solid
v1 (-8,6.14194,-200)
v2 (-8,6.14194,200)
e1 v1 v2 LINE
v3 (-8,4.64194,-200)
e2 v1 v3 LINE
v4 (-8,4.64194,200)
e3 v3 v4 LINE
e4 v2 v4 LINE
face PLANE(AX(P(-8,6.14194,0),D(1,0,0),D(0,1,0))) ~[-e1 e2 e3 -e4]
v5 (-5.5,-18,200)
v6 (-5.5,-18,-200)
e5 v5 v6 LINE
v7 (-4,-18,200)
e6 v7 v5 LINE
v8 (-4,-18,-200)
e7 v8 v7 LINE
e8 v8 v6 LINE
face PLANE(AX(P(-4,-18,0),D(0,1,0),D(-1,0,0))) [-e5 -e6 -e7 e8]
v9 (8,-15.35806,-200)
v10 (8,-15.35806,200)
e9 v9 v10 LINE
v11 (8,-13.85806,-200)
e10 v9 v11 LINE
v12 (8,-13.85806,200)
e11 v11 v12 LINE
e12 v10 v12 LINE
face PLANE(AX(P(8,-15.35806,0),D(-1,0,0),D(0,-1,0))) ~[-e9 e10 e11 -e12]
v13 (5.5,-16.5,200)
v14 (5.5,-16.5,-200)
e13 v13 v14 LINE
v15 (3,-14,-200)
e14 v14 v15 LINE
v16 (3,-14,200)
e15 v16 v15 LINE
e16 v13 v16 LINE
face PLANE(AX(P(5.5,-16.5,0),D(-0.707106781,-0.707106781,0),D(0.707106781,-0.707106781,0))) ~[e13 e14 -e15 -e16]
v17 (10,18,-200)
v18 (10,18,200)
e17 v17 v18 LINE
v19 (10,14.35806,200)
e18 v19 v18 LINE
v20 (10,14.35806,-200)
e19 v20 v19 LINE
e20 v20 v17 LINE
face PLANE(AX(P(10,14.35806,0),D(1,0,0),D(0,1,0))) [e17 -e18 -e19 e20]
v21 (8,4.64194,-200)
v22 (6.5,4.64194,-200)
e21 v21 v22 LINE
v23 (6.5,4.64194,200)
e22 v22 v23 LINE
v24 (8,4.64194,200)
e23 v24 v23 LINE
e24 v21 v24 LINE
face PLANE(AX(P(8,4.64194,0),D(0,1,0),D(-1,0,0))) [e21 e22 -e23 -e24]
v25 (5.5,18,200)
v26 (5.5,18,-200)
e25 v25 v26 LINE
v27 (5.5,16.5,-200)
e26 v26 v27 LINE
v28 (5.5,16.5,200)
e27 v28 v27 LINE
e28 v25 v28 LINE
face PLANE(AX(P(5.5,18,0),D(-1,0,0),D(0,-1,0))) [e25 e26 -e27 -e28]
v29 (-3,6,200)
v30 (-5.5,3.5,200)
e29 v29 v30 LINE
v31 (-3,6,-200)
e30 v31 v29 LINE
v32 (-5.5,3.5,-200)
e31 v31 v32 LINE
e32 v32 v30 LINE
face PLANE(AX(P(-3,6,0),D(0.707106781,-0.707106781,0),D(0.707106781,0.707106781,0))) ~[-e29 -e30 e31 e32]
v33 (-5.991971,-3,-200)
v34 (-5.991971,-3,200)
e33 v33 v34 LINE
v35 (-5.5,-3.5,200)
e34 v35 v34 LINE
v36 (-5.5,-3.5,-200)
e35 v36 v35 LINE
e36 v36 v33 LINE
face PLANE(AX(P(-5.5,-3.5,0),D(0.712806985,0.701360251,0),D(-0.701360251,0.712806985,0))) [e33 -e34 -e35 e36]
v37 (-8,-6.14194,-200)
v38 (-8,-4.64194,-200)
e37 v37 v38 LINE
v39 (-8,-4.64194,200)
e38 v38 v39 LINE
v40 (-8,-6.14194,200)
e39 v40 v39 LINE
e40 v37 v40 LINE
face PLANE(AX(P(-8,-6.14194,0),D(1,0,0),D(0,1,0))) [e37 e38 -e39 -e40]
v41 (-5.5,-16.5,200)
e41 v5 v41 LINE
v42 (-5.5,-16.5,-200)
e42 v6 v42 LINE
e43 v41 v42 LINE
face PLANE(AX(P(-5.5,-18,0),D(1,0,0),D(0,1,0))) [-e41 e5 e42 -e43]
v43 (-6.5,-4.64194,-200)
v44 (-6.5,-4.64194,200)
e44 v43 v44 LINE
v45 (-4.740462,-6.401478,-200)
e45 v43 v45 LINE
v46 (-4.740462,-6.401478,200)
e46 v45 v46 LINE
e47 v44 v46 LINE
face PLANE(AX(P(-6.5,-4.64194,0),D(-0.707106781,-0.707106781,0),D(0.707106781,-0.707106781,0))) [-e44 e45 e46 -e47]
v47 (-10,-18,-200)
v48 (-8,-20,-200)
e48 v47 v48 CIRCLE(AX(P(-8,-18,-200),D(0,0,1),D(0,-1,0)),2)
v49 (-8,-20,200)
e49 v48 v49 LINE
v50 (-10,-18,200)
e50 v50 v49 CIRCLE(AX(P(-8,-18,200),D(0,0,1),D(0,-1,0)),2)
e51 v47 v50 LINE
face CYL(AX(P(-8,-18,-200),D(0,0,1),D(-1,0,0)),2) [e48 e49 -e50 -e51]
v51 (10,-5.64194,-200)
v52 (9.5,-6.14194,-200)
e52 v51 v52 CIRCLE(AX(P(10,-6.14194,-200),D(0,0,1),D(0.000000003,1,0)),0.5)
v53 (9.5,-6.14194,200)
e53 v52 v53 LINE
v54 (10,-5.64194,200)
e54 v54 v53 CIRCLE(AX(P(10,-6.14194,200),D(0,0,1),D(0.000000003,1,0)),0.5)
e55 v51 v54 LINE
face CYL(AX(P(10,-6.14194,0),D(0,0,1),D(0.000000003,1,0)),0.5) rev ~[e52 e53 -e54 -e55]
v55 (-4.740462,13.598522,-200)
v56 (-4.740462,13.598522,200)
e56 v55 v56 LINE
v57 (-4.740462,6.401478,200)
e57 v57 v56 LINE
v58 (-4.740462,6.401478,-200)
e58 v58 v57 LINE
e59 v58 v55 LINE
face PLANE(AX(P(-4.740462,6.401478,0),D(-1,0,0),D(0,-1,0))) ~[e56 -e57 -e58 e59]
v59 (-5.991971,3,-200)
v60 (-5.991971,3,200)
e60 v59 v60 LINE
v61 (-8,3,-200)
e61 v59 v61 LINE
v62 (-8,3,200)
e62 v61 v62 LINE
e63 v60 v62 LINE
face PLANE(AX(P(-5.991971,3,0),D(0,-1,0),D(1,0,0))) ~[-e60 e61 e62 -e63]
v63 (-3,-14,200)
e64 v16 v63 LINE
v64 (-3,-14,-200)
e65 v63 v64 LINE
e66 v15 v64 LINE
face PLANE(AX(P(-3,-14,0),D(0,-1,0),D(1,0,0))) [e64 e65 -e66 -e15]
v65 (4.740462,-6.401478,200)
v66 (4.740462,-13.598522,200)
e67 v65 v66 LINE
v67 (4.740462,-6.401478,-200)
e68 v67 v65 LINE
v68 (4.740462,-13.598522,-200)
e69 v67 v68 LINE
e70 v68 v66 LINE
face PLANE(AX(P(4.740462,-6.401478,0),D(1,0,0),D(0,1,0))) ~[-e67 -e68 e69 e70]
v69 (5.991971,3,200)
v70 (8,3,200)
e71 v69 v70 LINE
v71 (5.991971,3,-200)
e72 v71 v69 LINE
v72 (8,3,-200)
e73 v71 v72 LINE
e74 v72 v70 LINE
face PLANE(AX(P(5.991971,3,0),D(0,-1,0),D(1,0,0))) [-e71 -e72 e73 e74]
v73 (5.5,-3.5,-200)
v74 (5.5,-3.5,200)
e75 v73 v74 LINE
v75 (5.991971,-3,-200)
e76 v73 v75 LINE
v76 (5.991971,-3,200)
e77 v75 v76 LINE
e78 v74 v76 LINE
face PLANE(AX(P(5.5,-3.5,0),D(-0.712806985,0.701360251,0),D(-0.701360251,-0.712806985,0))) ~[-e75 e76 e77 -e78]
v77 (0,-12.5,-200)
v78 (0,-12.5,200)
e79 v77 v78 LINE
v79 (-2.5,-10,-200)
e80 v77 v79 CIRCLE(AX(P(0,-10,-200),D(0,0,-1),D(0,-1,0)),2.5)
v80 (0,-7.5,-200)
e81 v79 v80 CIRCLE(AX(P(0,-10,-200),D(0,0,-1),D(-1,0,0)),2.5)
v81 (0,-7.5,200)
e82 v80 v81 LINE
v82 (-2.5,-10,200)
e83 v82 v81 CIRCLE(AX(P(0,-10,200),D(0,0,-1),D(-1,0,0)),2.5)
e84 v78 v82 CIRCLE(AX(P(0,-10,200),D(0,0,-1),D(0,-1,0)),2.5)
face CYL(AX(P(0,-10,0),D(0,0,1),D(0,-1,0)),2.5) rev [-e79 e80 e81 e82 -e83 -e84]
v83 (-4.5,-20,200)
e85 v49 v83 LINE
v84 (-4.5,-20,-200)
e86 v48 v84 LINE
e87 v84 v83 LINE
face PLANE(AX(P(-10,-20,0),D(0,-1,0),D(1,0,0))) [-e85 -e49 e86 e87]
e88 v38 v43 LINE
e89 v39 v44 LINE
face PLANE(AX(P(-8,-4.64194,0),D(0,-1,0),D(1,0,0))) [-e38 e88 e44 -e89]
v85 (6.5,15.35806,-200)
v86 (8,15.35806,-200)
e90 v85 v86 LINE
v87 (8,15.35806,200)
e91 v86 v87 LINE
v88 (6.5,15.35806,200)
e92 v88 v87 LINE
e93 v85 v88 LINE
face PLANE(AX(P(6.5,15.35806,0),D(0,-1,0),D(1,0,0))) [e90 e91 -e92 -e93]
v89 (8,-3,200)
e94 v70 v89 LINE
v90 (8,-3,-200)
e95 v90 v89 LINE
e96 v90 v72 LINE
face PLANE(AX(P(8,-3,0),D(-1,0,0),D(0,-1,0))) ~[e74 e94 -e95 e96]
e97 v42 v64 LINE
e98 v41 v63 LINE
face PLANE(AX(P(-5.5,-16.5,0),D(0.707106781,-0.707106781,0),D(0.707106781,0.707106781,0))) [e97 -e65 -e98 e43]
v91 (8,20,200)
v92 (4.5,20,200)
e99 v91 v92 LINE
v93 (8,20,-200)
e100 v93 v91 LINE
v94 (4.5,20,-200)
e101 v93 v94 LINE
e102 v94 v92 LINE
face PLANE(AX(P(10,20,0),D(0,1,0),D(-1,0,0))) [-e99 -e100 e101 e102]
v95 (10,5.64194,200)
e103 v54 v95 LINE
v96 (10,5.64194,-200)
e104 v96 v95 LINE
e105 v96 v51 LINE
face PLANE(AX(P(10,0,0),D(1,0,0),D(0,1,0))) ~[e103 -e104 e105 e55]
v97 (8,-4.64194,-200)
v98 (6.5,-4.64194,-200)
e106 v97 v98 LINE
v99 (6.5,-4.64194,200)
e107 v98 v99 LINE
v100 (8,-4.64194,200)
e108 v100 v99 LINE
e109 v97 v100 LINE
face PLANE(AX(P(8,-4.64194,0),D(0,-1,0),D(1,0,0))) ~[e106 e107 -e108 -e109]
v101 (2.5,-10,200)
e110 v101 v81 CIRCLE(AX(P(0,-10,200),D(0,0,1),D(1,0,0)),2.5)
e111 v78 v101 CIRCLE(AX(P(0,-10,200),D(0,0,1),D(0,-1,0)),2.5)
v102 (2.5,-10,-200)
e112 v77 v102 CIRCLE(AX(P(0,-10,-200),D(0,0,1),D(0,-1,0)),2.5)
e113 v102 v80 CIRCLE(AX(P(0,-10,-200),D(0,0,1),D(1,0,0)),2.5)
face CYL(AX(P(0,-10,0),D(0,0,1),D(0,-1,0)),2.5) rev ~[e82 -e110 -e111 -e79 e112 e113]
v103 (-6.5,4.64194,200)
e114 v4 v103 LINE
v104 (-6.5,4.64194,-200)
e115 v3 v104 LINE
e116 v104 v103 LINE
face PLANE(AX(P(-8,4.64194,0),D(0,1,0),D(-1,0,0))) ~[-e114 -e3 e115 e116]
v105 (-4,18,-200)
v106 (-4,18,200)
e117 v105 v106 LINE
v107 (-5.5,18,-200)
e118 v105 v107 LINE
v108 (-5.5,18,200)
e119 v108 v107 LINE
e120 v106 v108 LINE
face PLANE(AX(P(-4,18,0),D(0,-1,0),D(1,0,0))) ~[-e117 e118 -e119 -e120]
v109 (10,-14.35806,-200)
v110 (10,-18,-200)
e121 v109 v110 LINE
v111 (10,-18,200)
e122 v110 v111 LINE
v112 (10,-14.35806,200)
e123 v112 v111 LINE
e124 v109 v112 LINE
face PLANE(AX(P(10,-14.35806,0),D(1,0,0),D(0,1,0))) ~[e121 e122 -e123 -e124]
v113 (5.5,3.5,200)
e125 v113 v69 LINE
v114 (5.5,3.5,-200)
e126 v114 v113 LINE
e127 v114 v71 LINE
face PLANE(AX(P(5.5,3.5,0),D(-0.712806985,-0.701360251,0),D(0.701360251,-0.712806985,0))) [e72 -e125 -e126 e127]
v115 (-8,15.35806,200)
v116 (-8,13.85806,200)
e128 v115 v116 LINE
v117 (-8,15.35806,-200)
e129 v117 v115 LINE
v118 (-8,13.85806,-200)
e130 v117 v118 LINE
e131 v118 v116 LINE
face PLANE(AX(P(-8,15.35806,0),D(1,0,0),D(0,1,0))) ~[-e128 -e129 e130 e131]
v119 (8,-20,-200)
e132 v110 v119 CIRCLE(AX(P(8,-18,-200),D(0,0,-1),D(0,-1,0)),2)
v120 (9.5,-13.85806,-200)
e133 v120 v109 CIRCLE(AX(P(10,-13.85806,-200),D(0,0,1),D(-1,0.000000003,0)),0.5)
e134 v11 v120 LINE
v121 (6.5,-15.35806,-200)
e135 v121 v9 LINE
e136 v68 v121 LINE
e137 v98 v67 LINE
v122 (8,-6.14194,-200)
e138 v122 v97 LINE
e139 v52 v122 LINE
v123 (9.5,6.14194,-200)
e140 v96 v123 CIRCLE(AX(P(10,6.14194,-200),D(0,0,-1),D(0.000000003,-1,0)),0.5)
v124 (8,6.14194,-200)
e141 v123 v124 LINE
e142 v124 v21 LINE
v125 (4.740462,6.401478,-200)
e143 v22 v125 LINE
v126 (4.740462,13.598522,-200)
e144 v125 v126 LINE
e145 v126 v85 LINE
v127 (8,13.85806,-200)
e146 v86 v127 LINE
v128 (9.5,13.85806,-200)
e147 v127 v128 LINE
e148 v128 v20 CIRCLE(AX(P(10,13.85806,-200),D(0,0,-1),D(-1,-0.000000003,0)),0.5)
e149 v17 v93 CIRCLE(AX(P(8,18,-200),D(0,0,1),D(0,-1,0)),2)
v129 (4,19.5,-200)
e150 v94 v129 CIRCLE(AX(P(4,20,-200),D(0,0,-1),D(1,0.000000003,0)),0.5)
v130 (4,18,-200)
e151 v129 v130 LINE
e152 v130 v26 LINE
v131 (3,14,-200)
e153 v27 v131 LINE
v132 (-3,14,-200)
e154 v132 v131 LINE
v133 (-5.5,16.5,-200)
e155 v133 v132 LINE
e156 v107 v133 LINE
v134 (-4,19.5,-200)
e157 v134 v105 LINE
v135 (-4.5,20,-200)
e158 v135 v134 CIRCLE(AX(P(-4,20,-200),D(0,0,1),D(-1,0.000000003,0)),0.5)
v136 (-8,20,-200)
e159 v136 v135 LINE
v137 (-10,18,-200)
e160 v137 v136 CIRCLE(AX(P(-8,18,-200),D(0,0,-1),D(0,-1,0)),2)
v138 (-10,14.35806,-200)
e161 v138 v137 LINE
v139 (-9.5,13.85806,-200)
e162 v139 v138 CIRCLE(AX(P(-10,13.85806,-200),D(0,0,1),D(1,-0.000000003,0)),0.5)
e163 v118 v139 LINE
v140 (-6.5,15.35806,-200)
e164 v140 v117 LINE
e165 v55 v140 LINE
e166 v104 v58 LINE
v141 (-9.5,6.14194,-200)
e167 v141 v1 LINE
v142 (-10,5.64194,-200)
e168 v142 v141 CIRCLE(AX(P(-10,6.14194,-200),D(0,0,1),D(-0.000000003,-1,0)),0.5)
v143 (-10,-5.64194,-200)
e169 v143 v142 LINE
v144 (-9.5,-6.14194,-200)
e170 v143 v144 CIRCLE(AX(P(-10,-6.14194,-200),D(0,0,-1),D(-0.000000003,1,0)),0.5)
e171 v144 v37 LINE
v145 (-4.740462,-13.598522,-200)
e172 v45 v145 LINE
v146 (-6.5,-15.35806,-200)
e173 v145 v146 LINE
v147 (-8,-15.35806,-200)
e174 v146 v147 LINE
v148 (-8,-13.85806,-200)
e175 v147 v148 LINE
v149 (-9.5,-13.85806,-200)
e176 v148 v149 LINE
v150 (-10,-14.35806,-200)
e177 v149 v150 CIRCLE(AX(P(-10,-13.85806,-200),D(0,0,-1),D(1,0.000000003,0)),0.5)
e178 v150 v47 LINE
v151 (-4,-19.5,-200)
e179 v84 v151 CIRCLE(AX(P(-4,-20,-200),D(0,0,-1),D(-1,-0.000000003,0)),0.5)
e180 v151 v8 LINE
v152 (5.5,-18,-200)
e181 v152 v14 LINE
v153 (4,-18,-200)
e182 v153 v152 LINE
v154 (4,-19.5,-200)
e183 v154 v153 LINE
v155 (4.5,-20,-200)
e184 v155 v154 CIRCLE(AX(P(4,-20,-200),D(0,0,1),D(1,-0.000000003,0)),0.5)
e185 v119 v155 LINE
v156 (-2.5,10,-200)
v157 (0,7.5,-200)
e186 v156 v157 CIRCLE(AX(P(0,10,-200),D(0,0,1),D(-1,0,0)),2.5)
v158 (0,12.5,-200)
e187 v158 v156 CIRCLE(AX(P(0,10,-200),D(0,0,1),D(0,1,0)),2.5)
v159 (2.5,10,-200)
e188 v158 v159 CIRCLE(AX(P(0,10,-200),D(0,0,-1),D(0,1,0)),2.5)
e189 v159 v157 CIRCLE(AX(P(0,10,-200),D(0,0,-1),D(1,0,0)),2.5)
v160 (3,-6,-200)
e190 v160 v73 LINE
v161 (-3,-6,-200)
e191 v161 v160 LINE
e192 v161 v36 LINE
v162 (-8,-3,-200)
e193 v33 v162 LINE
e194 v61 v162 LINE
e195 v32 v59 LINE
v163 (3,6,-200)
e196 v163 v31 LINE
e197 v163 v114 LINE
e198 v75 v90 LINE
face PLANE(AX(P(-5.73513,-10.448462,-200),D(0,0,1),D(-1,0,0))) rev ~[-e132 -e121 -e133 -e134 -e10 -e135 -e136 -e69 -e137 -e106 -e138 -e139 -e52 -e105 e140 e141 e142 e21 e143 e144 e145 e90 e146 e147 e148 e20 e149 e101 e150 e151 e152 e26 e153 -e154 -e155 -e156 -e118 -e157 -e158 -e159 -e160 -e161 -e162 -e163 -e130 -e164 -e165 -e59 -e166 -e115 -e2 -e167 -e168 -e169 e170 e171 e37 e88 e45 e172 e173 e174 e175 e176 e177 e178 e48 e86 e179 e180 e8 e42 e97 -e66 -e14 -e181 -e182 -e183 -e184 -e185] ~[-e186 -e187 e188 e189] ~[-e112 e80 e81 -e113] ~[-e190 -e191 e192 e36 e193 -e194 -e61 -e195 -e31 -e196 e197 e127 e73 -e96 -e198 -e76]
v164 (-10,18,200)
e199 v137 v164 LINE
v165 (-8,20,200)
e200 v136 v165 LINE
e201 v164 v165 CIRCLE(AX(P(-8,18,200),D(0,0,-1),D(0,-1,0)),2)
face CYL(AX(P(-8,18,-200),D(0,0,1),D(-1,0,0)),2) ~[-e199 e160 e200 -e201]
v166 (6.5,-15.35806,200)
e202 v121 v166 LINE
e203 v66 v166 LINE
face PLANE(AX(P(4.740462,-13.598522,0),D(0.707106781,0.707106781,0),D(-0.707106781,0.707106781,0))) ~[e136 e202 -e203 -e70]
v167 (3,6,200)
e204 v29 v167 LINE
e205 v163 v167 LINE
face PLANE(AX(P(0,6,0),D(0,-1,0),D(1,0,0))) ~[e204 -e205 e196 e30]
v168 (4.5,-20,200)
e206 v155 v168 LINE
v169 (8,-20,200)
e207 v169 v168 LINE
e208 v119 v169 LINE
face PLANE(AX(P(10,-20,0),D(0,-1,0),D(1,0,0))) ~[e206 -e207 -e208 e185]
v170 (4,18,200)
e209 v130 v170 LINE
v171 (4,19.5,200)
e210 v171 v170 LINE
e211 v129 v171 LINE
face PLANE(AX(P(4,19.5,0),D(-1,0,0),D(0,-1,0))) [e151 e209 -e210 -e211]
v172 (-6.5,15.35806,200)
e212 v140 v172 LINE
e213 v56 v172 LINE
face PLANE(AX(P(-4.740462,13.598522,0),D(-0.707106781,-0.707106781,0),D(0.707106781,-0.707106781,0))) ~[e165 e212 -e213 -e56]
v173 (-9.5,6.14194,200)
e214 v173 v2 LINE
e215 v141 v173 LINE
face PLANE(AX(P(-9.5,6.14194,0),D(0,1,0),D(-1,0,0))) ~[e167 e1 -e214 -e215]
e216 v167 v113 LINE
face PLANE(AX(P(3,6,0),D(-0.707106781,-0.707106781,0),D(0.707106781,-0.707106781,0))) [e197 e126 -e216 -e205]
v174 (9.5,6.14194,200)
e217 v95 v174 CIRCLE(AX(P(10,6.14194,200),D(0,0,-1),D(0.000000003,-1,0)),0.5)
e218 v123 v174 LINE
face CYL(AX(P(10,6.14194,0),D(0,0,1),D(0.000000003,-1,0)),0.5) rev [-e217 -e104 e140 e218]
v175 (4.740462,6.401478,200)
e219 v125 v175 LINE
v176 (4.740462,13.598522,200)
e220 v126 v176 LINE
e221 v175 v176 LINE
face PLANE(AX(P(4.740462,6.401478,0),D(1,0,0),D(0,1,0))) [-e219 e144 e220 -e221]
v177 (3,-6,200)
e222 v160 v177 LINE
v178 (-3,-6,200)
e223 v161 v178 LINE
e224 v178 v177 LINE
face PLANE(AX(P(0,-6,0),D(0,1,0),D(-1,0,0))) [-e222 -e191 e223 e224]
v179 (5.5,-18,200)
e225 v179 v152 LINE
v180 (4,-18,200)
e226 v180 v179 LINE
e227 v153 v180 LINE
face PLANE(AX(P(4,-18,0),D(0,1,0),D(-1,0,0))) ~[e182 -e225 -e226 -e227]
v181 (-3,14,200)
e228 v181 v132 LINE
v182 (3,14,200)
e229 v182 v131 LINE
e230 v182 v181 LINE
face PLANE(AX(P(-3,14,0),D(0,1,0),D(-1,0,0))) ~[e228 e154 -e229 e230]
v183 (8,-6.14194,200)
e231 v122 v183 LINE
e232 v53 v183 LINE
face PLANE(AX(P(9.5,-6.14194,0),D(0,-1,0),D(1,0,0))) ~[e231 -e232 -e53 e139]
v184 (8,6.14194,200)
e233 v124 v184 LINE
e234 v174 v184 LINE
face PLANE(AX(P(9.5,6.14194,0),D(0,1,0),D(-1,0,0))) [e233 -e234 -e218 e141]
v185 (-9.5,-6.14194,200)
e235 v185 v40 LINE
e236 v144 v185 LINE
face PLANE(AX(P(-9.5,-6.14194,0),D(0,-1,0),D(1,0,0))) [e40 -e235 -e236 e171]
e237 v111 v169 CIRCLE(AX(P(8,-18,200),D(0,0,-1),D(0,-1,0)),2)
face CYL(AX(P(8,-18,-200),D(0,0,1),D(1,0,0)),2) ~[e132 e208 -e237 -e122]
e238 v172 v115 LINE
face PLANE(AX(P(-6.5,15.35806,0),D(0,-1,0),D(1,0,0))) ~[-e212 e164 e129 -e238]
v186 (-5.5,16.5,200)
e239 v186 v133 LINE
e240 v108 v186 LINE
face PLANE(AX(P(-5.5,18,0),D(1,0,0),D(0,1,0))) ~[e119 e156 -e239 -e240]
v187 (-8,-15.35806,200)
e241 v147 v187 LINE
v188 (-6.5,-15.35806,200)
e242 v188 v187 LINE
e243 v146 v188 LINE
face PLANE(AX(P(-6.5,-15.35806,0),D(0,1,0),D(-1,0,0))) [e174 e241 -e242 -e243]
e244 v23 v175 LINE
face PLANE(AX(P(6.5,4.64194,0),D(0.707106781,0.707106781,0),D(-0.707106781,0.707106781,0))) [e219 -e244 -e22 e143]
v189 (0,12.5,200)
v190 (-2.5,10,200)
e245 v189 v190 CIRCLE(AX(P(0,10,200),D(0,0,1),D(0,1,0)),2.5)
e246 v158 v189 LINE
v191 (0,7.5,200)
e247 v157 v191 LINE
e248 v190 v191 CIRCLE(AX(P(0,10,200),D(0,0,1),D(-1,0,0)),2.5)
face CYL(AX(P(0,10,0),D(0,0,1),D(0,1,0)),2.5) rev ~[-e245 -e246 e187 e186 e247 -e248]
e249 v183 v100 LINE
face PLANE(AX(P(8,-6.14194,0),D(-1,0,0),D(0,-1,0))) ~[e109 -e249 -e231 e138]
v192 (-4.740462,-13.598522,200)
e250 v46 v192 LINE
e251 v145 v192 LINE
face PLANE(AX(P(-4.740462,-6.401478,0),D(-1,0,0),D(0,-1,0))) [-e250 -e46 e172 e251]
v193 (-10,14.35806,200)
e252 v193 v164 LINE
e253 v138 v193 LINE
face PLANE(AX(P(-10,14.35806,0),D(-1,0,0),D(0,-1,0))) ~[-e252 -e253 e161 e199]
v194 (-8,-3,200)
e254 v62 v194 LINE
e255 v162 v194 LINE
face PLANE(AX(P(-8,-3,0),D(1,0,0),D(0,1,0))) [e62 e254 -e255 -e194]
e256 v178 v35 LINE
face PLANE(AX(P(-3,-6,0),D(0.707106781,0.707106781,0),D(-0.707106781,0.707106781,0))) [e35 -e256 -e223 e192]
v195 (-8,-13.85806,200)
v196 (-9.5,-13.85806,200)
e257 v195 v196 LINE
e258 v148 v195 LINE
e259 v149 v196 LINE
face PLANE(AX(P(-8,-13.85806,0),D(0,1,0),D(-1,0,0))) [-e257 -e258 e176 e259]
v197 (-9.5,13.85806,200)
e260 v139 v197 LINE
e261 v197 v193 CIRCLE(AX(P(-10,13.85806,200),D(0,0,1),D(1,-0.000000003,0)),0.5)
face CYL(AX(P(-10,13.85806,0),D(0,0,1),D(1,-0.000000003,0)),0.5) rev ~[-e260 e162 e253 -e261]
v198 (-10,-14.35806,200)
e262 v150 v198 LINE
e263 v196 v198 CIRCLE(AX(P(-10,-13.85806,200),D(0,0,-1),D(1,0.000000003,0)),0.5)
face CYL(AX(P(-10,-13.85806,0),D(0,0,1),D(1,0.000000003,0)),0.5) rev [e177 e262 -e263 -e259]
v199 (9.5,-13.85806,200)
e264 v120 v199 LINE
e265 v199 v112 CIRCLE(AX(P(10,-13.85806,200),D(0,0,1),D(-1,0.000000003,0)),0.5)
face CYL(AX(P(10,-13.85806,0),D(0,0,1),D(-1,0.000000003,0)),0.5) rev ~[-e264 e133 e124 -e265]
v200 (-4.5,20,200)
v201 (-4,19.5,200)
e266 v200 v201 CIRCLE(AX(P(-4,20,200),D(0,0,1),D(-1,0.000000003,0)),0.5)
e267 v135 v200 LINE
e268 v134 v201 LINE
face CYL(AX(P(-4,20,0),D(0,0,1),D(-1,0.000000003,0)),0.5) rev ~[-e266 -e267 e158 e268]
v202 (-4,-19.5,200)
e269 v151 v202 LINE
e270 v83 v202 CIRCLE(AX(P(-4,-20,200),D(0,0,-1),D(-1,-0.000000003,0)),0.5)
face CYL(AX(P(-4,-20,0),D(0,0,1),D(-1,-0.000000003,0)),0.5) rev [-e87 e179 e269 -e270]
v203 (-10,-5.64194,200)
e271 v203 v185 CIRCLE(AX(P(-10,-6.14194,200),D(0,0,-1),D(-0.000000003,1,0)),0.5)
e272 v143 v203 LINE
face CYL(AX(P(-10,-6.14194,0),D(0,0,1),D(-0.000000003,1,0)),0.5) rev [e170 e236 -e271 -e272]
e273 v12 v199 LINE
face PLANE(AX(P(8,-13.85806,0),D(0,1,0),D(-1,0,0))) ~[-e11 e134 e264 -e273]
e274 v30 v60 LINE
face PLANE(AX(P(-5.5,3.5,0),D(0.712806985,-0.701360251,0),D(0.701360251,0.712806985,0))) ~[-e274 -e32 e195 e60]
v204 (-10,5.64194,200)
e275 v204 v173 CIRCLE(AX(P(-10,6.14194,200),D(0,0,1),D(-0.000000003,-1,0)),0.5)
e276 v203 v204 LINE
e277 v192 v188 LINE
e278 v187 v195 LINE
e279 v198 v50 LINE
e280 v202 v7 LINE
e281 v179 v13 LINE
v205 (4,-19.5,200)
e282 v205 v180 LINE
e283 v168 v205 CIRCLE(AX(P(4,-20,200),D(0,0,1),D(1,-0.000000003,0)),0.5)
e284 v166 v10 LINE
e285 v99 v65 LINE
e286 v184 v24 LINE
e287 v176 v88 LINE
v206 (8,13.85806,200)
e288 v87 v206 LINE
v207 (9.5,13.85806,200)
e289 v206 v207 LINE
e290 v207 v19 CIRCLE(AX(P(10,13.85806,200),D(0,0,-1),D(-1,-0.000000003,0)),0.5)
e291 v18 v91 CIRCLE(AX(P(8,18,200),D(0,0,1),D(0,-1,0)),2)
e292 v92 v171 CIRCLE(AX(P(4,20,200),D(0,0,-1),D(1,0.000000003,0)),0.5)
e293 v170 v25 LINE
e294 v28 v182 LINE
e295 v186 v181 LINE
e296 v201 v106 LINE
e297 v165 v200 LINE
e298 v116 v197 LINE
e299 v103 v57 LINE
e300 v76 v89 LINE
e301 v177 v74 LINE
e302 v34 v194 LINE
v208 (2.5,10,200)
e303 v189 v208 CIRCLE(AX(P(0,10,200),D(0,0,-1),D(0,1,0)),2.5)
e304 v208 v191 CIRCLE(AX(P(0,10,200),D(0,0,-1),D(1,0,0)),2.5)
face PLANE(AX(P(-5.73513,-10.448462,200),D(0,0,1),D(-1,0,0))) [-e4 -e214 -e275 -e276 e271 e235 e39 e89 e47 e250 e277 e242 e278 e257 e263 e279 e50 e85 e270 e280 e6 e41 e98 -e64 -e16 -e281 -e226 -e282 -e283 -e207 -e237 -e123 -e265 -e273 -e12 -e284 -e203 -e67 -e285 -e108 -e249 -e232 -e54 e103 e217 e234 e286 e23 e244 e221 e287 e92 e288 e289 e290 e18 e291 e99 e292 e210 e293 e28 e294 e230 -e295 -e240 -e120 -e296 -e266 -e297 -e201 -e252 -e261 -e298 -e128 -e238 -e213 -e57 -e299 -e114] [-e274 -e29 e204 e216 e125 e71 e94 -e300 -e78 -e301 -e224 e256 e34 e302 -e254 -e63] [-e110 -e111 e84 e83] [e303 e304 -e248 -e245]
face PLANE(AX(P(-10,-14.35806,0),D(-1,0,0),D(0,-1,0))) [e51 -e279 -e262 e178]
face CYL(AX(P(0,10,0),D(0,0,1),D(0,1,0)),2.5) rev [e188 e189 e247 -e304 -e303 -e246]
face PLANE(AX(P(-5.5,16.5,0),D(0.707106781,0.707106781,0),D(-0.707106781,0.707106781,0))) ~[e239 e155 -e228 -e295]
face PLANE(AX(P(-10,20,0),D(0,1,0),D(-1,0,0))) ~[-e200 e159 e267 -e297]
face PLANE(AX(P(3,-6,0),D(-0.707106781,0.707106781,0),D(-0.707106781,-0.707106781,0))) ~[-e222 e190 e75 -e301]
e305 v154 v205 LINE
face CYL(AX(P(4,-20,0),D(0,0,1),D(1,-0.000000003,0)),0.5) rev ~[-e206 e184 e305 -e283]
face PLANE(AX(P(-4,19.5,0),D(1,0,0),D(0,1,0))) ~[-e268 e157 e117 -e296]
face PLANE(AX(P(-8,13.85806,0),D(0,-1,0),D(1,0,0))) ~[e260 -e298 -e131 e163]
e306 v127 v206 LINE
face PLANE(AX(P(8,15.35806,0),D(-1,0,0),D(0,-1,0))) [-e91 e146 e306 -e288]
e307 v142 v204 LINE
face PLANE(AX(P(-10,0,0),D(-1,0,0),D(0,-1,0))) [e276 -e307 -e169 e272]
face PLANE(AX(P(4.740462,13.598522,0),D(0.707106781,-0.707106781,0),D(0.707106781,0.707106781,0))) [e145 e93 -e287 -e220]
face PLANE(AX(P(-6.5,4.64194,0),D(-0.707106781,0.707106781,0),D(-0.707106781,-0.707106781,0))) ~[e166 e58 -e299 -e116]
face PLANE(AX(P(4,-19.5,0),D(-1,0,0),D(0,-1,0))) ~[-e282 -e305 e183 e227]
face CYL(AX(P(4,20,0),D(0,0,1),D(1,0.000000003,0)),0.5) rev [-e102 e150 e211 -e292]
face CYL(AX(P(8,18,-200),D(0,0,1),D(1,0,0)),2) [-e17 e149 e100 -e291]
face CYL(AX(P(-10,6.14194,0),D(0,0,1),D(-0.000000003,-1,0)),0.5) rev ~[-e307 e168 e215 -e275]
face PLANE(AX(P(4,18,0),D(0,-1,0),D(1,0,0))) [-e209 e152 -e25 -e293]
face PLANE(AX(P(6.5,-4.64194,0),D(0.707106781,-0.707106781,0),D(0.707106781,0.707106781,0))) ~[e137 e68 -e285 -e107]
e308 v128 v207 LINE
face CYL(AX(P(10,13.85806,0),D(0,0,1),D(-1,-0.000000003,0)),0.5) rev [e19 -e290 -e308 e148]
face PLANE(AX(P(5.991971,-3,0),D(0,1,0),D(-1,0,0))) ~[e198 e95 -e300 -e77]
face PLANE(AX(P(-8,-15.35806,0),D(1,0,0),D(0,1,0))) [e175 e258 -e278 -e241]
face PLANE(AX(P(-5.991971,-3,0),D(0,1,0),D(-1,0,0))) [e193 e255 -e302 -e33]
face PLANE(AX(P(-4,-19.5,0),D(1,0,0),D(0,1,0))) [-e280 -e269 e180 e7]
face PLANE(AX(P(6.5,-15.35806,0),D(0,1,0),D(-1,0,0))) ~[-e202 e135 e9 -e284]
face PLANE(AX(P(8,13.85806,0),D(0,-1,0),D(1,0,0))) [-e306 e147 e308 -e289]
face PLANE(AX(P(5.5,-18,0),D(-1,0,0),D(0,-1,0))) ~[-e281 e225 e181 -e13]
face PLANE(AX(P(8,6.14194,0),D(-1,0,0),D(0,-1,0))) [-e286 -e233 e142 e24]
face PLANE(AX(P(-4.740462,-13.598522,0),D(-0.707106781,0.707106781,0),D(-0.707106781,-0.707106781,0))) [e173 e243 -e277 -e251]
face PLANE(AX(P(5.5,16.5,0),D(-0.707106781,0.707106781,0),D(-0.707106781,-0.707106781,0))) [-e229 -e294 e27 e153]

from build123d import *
from build123d.topology import SkipClean

# Parameters (mm, degrees)
EXTRUDE_1_DEPTH       = 200
MIRROR_2_COPY_1_DEPTH = 200
MIRROR_2_COPY_2_DEPTH = 200
FILLET_1_R            = 2


with BuildPart() as part:
    # Эскиз1 → Бобышка-Вытянуть1 (new, symmetric)
    with BuildSketch(Plane.XY):
        with BuildLine():
            Line((3, 14), (0, 14))
            Line((0, 14), (0, 12.5))
            ThreePointArc((0, 12.5), (1.767766953, 11.767766953), (2.5, 10))
            ThreePointArc((2.5, 10), (1.767766953, 8.232233047), (0, 7.5))
            Line((0, 7.5), (0, 6))
            Line((0, 6), (3, 6))
            Line((3, 6), (5.5, 3.5))
            Line((5.5, 3.5), (5.991970664, 3))
            Line((5.991970664, 3), (8, 3))
            Line((8, 3), (8, 0))
            Line((8, 0), (10, 0))
            Line((10, 0), (10, 5.641940268))
            ThreePointArc((10, 5.641940268), (9.646446609, 5.788386877), (9.5, 6.141940268))
            Line((9.5, 6.141940268), (8, 6.141940268))
            Line((8, 6.141940268), (8, 4.641940268))
            Line((8, 4.641940268), (6.5, 4.641940268))
            Line((6.5, 4.641940268), (4.740462433, 6.401477835))
            Line((4.740462433, 6.401477835), (4.740462433, 13.598522165))
            Line((4.740462433, 13.598522165), (6.5, 15.358059732))
            Line((6.5, 15.358059732), (8, 15.358059732))
            Line((8, 15.358059732), (8, 13.858059732))
            Line((8, 13.858059732), (9.5, 13.858059732))
            ThreePointArc((9.5, 13.858059732), (9.646446609, 14.211613123), (10, 14.358059732))
            Line((10, 14.358059732), (10, 20))
            Line((10, 20), (4.5, 20))
            ThreePointArc((4.5, 20), (4.353553391, 19.646446609), (4, 19.5))
            Line((4, 19.5), (4, 18))
            Line((4, 18), (5.5, 18))
            Line((5.5, 18), (5.5, 16.5))
            Line((5.5, 16.5), (3, 14))
        make_face()
    extrude_1 = extrude(amount=EXTRUDE_1_DEPTH, both=True)

    # Зеркальное отражение1: Бобышка-Вытянуть1 across plane
    with SkipClean():  # the faces are left unmerged after this step: merging them gives an invalid solid
        add(extrude_1.mirror(Plane(origin=(0, 0, 0), x_dir=(0, 0, 1), z_dir=(1, 0, 0))))

    # Зеркальное отражение2 copy 1 sketch → Зеркальное отражение2 copy 1 (add, symmetric)
    with SkipClean():  # the faces are left unmerged after this step: merging them gives an invalid solid
        with BuildSketch(Plane(origin=(0, 0, 0), x_dir=(-1, 0, 0), z_dir=(0, 0, 1))):
            with BuildLine():
                Line((3, 14), (0, 14))
                Line((0, 14), (0, 12.5))
                ThreePointArc((0, 12.5), (1.767766953, 11.767766953), (2.5, 10))
                ThreePointArc((2.5, 10), (1.767766953, 8.232233047), (0, 7.5))
                Line((0, 7.5), (0, 6))
                Line((0, 6), (3, 6))
                Line((3, 6), (5.5, 3.5))
                Line((5.5, 3.5), (5.991970664, 3))
                Line((5.991970664, 3), (8, 3))
                Line((8, 3), (8, 0))
                Line((8, 0), (10, 0))
                Line((10, 0), (10, 5.641940268))
                ThreePointArc((10, 5.641940268), (9.646446609, 5.788386877), (9.5, 6.141940268))
                Line((9.5, 6.141940268), (8, 6.141940268))
                Line((8, 6.141940268), (8, 4.641940268))
                Line((8, 4.641940268), (6.5, 4.641940268))
                Line((6.5, 4.641940268), (4.740462433, 6.401477835))
                Line((4.740462433, 6.401477835), (4.740462433, 13.598522165))
                Line((4.740462433, 13.598522165), (6.5, 15.358059732))
                Line((6.5, 15.358059732), (8, 15.358059732))
                Line((8, 15.358059732), (8, 13.858059732))
                Line((8, 13.858059732), (9.5, 13.858059732))
                ThreePointArc((9.5, 13.858059732), (9.646446609, 14.211613123), (10, 14.358059732))
                Line((10, 14.358059732), (10, 20))
                Line((10, 20), (4.5, 20))
                ThreePointArc((4.5, 20), (4.353553391, 19.646446609), (4, 19.5))
                Line((4, 19.5), (4, 18))
                Line((4, 18), (5.5, 18))
                Line((5.5, 18), (5.5, 16.5))
                Line((5.5, 16.5), (3, 14))
            make_face()
        extrude(amount=MIRROR_2_COPY_1_DEPTH, both=True)

    # Зеркальное отражение2 copy 2 sketch → Зеркальное отражение2 copy 2 (add, symmetric)
    with SkipClean():  # the faces are left unmerged after this step: merging them gives an invalid solid
        with BuildSketch(Plane.XY):
            with BuildLine():
                Line((3, -14), (0, -14))
                Line((0, -14), (0, -12.5))
                ThreePointArc((0, -12.5), (1.767766953, -11.767766953), (2.5, -10))
                ThreePointArc((2.5, -10), (1.767766953, -8.232233047), (0, -7.5))
                Line((0, -7.5), (0, -6))
                Line((0, -6), (3, -6))
                Line((3, -6), (5.5, -3.5))
                Line((5.5, -3.5), (5.991970664, -3))
                Line((5.991970664, -3), (8, -3))
                Line((8, -3), (8, 0))
                Line((8, 0), (10, 0))
                Line((10, 0), (10, -5.641940268))
                ThreePointArc((10, -5.641940268), (9.646446609, -5.788386877), (9.5, -6.141940268))
                Line((9.5, -6.141940268), (8, -6.141940268))
                Line((8, -6.141940268), (8, -4.641940268))
                Line((8, -4.641940268), (6.5, -4.641940268))
                Line((6.5, -4.641940268), (4.740462433, -6.401477835))
                Line((4.740462433, -6.401477835), (4.740462433, -13.598522165))
                Line((4.740462433, -13.598522165), (6.5, -15.358059732))
                Line((6.5, -15.358059732), (8, -15.358059732))
                Line((8, -15.358059732), (8, -13.858059732))
                Line((8, -13.858059732), (9.5, -13.858059732))
                ThreePointArc((9.5, -13.858059732), (9.646446609, -14.211613123), (10, -14.358059732))
                Line((10, -14.358059732), (10, -20))
                Line((10, -20), (4.5, -20))
                ThreePointArc((4.5, -20), (4.353553391, -19.646446609), (4, -19.5))
                Line((4, -19.5), (4, -18))
                Line((4, -18), (5.5, -18))
                Line((5.5, -18), (5.5, -16.5))
                Line((5.5, -16.5), (3, -14))
            make_face()
        extrude(amount=MIRROR_2_COPY_2_DEPTH, both=True)

    # Скругление1
    fillet_1_edges = [part.edges().sort_by_distance(p)[0] for p in [
        (-10, -20, 0),
        (10, -20, 0),
        (10, 20, 0),
        (-10, 20, 0),
    ]]
    fillet(fillet_1_edges, radius=FILLET_1_R)


solid = part.part
